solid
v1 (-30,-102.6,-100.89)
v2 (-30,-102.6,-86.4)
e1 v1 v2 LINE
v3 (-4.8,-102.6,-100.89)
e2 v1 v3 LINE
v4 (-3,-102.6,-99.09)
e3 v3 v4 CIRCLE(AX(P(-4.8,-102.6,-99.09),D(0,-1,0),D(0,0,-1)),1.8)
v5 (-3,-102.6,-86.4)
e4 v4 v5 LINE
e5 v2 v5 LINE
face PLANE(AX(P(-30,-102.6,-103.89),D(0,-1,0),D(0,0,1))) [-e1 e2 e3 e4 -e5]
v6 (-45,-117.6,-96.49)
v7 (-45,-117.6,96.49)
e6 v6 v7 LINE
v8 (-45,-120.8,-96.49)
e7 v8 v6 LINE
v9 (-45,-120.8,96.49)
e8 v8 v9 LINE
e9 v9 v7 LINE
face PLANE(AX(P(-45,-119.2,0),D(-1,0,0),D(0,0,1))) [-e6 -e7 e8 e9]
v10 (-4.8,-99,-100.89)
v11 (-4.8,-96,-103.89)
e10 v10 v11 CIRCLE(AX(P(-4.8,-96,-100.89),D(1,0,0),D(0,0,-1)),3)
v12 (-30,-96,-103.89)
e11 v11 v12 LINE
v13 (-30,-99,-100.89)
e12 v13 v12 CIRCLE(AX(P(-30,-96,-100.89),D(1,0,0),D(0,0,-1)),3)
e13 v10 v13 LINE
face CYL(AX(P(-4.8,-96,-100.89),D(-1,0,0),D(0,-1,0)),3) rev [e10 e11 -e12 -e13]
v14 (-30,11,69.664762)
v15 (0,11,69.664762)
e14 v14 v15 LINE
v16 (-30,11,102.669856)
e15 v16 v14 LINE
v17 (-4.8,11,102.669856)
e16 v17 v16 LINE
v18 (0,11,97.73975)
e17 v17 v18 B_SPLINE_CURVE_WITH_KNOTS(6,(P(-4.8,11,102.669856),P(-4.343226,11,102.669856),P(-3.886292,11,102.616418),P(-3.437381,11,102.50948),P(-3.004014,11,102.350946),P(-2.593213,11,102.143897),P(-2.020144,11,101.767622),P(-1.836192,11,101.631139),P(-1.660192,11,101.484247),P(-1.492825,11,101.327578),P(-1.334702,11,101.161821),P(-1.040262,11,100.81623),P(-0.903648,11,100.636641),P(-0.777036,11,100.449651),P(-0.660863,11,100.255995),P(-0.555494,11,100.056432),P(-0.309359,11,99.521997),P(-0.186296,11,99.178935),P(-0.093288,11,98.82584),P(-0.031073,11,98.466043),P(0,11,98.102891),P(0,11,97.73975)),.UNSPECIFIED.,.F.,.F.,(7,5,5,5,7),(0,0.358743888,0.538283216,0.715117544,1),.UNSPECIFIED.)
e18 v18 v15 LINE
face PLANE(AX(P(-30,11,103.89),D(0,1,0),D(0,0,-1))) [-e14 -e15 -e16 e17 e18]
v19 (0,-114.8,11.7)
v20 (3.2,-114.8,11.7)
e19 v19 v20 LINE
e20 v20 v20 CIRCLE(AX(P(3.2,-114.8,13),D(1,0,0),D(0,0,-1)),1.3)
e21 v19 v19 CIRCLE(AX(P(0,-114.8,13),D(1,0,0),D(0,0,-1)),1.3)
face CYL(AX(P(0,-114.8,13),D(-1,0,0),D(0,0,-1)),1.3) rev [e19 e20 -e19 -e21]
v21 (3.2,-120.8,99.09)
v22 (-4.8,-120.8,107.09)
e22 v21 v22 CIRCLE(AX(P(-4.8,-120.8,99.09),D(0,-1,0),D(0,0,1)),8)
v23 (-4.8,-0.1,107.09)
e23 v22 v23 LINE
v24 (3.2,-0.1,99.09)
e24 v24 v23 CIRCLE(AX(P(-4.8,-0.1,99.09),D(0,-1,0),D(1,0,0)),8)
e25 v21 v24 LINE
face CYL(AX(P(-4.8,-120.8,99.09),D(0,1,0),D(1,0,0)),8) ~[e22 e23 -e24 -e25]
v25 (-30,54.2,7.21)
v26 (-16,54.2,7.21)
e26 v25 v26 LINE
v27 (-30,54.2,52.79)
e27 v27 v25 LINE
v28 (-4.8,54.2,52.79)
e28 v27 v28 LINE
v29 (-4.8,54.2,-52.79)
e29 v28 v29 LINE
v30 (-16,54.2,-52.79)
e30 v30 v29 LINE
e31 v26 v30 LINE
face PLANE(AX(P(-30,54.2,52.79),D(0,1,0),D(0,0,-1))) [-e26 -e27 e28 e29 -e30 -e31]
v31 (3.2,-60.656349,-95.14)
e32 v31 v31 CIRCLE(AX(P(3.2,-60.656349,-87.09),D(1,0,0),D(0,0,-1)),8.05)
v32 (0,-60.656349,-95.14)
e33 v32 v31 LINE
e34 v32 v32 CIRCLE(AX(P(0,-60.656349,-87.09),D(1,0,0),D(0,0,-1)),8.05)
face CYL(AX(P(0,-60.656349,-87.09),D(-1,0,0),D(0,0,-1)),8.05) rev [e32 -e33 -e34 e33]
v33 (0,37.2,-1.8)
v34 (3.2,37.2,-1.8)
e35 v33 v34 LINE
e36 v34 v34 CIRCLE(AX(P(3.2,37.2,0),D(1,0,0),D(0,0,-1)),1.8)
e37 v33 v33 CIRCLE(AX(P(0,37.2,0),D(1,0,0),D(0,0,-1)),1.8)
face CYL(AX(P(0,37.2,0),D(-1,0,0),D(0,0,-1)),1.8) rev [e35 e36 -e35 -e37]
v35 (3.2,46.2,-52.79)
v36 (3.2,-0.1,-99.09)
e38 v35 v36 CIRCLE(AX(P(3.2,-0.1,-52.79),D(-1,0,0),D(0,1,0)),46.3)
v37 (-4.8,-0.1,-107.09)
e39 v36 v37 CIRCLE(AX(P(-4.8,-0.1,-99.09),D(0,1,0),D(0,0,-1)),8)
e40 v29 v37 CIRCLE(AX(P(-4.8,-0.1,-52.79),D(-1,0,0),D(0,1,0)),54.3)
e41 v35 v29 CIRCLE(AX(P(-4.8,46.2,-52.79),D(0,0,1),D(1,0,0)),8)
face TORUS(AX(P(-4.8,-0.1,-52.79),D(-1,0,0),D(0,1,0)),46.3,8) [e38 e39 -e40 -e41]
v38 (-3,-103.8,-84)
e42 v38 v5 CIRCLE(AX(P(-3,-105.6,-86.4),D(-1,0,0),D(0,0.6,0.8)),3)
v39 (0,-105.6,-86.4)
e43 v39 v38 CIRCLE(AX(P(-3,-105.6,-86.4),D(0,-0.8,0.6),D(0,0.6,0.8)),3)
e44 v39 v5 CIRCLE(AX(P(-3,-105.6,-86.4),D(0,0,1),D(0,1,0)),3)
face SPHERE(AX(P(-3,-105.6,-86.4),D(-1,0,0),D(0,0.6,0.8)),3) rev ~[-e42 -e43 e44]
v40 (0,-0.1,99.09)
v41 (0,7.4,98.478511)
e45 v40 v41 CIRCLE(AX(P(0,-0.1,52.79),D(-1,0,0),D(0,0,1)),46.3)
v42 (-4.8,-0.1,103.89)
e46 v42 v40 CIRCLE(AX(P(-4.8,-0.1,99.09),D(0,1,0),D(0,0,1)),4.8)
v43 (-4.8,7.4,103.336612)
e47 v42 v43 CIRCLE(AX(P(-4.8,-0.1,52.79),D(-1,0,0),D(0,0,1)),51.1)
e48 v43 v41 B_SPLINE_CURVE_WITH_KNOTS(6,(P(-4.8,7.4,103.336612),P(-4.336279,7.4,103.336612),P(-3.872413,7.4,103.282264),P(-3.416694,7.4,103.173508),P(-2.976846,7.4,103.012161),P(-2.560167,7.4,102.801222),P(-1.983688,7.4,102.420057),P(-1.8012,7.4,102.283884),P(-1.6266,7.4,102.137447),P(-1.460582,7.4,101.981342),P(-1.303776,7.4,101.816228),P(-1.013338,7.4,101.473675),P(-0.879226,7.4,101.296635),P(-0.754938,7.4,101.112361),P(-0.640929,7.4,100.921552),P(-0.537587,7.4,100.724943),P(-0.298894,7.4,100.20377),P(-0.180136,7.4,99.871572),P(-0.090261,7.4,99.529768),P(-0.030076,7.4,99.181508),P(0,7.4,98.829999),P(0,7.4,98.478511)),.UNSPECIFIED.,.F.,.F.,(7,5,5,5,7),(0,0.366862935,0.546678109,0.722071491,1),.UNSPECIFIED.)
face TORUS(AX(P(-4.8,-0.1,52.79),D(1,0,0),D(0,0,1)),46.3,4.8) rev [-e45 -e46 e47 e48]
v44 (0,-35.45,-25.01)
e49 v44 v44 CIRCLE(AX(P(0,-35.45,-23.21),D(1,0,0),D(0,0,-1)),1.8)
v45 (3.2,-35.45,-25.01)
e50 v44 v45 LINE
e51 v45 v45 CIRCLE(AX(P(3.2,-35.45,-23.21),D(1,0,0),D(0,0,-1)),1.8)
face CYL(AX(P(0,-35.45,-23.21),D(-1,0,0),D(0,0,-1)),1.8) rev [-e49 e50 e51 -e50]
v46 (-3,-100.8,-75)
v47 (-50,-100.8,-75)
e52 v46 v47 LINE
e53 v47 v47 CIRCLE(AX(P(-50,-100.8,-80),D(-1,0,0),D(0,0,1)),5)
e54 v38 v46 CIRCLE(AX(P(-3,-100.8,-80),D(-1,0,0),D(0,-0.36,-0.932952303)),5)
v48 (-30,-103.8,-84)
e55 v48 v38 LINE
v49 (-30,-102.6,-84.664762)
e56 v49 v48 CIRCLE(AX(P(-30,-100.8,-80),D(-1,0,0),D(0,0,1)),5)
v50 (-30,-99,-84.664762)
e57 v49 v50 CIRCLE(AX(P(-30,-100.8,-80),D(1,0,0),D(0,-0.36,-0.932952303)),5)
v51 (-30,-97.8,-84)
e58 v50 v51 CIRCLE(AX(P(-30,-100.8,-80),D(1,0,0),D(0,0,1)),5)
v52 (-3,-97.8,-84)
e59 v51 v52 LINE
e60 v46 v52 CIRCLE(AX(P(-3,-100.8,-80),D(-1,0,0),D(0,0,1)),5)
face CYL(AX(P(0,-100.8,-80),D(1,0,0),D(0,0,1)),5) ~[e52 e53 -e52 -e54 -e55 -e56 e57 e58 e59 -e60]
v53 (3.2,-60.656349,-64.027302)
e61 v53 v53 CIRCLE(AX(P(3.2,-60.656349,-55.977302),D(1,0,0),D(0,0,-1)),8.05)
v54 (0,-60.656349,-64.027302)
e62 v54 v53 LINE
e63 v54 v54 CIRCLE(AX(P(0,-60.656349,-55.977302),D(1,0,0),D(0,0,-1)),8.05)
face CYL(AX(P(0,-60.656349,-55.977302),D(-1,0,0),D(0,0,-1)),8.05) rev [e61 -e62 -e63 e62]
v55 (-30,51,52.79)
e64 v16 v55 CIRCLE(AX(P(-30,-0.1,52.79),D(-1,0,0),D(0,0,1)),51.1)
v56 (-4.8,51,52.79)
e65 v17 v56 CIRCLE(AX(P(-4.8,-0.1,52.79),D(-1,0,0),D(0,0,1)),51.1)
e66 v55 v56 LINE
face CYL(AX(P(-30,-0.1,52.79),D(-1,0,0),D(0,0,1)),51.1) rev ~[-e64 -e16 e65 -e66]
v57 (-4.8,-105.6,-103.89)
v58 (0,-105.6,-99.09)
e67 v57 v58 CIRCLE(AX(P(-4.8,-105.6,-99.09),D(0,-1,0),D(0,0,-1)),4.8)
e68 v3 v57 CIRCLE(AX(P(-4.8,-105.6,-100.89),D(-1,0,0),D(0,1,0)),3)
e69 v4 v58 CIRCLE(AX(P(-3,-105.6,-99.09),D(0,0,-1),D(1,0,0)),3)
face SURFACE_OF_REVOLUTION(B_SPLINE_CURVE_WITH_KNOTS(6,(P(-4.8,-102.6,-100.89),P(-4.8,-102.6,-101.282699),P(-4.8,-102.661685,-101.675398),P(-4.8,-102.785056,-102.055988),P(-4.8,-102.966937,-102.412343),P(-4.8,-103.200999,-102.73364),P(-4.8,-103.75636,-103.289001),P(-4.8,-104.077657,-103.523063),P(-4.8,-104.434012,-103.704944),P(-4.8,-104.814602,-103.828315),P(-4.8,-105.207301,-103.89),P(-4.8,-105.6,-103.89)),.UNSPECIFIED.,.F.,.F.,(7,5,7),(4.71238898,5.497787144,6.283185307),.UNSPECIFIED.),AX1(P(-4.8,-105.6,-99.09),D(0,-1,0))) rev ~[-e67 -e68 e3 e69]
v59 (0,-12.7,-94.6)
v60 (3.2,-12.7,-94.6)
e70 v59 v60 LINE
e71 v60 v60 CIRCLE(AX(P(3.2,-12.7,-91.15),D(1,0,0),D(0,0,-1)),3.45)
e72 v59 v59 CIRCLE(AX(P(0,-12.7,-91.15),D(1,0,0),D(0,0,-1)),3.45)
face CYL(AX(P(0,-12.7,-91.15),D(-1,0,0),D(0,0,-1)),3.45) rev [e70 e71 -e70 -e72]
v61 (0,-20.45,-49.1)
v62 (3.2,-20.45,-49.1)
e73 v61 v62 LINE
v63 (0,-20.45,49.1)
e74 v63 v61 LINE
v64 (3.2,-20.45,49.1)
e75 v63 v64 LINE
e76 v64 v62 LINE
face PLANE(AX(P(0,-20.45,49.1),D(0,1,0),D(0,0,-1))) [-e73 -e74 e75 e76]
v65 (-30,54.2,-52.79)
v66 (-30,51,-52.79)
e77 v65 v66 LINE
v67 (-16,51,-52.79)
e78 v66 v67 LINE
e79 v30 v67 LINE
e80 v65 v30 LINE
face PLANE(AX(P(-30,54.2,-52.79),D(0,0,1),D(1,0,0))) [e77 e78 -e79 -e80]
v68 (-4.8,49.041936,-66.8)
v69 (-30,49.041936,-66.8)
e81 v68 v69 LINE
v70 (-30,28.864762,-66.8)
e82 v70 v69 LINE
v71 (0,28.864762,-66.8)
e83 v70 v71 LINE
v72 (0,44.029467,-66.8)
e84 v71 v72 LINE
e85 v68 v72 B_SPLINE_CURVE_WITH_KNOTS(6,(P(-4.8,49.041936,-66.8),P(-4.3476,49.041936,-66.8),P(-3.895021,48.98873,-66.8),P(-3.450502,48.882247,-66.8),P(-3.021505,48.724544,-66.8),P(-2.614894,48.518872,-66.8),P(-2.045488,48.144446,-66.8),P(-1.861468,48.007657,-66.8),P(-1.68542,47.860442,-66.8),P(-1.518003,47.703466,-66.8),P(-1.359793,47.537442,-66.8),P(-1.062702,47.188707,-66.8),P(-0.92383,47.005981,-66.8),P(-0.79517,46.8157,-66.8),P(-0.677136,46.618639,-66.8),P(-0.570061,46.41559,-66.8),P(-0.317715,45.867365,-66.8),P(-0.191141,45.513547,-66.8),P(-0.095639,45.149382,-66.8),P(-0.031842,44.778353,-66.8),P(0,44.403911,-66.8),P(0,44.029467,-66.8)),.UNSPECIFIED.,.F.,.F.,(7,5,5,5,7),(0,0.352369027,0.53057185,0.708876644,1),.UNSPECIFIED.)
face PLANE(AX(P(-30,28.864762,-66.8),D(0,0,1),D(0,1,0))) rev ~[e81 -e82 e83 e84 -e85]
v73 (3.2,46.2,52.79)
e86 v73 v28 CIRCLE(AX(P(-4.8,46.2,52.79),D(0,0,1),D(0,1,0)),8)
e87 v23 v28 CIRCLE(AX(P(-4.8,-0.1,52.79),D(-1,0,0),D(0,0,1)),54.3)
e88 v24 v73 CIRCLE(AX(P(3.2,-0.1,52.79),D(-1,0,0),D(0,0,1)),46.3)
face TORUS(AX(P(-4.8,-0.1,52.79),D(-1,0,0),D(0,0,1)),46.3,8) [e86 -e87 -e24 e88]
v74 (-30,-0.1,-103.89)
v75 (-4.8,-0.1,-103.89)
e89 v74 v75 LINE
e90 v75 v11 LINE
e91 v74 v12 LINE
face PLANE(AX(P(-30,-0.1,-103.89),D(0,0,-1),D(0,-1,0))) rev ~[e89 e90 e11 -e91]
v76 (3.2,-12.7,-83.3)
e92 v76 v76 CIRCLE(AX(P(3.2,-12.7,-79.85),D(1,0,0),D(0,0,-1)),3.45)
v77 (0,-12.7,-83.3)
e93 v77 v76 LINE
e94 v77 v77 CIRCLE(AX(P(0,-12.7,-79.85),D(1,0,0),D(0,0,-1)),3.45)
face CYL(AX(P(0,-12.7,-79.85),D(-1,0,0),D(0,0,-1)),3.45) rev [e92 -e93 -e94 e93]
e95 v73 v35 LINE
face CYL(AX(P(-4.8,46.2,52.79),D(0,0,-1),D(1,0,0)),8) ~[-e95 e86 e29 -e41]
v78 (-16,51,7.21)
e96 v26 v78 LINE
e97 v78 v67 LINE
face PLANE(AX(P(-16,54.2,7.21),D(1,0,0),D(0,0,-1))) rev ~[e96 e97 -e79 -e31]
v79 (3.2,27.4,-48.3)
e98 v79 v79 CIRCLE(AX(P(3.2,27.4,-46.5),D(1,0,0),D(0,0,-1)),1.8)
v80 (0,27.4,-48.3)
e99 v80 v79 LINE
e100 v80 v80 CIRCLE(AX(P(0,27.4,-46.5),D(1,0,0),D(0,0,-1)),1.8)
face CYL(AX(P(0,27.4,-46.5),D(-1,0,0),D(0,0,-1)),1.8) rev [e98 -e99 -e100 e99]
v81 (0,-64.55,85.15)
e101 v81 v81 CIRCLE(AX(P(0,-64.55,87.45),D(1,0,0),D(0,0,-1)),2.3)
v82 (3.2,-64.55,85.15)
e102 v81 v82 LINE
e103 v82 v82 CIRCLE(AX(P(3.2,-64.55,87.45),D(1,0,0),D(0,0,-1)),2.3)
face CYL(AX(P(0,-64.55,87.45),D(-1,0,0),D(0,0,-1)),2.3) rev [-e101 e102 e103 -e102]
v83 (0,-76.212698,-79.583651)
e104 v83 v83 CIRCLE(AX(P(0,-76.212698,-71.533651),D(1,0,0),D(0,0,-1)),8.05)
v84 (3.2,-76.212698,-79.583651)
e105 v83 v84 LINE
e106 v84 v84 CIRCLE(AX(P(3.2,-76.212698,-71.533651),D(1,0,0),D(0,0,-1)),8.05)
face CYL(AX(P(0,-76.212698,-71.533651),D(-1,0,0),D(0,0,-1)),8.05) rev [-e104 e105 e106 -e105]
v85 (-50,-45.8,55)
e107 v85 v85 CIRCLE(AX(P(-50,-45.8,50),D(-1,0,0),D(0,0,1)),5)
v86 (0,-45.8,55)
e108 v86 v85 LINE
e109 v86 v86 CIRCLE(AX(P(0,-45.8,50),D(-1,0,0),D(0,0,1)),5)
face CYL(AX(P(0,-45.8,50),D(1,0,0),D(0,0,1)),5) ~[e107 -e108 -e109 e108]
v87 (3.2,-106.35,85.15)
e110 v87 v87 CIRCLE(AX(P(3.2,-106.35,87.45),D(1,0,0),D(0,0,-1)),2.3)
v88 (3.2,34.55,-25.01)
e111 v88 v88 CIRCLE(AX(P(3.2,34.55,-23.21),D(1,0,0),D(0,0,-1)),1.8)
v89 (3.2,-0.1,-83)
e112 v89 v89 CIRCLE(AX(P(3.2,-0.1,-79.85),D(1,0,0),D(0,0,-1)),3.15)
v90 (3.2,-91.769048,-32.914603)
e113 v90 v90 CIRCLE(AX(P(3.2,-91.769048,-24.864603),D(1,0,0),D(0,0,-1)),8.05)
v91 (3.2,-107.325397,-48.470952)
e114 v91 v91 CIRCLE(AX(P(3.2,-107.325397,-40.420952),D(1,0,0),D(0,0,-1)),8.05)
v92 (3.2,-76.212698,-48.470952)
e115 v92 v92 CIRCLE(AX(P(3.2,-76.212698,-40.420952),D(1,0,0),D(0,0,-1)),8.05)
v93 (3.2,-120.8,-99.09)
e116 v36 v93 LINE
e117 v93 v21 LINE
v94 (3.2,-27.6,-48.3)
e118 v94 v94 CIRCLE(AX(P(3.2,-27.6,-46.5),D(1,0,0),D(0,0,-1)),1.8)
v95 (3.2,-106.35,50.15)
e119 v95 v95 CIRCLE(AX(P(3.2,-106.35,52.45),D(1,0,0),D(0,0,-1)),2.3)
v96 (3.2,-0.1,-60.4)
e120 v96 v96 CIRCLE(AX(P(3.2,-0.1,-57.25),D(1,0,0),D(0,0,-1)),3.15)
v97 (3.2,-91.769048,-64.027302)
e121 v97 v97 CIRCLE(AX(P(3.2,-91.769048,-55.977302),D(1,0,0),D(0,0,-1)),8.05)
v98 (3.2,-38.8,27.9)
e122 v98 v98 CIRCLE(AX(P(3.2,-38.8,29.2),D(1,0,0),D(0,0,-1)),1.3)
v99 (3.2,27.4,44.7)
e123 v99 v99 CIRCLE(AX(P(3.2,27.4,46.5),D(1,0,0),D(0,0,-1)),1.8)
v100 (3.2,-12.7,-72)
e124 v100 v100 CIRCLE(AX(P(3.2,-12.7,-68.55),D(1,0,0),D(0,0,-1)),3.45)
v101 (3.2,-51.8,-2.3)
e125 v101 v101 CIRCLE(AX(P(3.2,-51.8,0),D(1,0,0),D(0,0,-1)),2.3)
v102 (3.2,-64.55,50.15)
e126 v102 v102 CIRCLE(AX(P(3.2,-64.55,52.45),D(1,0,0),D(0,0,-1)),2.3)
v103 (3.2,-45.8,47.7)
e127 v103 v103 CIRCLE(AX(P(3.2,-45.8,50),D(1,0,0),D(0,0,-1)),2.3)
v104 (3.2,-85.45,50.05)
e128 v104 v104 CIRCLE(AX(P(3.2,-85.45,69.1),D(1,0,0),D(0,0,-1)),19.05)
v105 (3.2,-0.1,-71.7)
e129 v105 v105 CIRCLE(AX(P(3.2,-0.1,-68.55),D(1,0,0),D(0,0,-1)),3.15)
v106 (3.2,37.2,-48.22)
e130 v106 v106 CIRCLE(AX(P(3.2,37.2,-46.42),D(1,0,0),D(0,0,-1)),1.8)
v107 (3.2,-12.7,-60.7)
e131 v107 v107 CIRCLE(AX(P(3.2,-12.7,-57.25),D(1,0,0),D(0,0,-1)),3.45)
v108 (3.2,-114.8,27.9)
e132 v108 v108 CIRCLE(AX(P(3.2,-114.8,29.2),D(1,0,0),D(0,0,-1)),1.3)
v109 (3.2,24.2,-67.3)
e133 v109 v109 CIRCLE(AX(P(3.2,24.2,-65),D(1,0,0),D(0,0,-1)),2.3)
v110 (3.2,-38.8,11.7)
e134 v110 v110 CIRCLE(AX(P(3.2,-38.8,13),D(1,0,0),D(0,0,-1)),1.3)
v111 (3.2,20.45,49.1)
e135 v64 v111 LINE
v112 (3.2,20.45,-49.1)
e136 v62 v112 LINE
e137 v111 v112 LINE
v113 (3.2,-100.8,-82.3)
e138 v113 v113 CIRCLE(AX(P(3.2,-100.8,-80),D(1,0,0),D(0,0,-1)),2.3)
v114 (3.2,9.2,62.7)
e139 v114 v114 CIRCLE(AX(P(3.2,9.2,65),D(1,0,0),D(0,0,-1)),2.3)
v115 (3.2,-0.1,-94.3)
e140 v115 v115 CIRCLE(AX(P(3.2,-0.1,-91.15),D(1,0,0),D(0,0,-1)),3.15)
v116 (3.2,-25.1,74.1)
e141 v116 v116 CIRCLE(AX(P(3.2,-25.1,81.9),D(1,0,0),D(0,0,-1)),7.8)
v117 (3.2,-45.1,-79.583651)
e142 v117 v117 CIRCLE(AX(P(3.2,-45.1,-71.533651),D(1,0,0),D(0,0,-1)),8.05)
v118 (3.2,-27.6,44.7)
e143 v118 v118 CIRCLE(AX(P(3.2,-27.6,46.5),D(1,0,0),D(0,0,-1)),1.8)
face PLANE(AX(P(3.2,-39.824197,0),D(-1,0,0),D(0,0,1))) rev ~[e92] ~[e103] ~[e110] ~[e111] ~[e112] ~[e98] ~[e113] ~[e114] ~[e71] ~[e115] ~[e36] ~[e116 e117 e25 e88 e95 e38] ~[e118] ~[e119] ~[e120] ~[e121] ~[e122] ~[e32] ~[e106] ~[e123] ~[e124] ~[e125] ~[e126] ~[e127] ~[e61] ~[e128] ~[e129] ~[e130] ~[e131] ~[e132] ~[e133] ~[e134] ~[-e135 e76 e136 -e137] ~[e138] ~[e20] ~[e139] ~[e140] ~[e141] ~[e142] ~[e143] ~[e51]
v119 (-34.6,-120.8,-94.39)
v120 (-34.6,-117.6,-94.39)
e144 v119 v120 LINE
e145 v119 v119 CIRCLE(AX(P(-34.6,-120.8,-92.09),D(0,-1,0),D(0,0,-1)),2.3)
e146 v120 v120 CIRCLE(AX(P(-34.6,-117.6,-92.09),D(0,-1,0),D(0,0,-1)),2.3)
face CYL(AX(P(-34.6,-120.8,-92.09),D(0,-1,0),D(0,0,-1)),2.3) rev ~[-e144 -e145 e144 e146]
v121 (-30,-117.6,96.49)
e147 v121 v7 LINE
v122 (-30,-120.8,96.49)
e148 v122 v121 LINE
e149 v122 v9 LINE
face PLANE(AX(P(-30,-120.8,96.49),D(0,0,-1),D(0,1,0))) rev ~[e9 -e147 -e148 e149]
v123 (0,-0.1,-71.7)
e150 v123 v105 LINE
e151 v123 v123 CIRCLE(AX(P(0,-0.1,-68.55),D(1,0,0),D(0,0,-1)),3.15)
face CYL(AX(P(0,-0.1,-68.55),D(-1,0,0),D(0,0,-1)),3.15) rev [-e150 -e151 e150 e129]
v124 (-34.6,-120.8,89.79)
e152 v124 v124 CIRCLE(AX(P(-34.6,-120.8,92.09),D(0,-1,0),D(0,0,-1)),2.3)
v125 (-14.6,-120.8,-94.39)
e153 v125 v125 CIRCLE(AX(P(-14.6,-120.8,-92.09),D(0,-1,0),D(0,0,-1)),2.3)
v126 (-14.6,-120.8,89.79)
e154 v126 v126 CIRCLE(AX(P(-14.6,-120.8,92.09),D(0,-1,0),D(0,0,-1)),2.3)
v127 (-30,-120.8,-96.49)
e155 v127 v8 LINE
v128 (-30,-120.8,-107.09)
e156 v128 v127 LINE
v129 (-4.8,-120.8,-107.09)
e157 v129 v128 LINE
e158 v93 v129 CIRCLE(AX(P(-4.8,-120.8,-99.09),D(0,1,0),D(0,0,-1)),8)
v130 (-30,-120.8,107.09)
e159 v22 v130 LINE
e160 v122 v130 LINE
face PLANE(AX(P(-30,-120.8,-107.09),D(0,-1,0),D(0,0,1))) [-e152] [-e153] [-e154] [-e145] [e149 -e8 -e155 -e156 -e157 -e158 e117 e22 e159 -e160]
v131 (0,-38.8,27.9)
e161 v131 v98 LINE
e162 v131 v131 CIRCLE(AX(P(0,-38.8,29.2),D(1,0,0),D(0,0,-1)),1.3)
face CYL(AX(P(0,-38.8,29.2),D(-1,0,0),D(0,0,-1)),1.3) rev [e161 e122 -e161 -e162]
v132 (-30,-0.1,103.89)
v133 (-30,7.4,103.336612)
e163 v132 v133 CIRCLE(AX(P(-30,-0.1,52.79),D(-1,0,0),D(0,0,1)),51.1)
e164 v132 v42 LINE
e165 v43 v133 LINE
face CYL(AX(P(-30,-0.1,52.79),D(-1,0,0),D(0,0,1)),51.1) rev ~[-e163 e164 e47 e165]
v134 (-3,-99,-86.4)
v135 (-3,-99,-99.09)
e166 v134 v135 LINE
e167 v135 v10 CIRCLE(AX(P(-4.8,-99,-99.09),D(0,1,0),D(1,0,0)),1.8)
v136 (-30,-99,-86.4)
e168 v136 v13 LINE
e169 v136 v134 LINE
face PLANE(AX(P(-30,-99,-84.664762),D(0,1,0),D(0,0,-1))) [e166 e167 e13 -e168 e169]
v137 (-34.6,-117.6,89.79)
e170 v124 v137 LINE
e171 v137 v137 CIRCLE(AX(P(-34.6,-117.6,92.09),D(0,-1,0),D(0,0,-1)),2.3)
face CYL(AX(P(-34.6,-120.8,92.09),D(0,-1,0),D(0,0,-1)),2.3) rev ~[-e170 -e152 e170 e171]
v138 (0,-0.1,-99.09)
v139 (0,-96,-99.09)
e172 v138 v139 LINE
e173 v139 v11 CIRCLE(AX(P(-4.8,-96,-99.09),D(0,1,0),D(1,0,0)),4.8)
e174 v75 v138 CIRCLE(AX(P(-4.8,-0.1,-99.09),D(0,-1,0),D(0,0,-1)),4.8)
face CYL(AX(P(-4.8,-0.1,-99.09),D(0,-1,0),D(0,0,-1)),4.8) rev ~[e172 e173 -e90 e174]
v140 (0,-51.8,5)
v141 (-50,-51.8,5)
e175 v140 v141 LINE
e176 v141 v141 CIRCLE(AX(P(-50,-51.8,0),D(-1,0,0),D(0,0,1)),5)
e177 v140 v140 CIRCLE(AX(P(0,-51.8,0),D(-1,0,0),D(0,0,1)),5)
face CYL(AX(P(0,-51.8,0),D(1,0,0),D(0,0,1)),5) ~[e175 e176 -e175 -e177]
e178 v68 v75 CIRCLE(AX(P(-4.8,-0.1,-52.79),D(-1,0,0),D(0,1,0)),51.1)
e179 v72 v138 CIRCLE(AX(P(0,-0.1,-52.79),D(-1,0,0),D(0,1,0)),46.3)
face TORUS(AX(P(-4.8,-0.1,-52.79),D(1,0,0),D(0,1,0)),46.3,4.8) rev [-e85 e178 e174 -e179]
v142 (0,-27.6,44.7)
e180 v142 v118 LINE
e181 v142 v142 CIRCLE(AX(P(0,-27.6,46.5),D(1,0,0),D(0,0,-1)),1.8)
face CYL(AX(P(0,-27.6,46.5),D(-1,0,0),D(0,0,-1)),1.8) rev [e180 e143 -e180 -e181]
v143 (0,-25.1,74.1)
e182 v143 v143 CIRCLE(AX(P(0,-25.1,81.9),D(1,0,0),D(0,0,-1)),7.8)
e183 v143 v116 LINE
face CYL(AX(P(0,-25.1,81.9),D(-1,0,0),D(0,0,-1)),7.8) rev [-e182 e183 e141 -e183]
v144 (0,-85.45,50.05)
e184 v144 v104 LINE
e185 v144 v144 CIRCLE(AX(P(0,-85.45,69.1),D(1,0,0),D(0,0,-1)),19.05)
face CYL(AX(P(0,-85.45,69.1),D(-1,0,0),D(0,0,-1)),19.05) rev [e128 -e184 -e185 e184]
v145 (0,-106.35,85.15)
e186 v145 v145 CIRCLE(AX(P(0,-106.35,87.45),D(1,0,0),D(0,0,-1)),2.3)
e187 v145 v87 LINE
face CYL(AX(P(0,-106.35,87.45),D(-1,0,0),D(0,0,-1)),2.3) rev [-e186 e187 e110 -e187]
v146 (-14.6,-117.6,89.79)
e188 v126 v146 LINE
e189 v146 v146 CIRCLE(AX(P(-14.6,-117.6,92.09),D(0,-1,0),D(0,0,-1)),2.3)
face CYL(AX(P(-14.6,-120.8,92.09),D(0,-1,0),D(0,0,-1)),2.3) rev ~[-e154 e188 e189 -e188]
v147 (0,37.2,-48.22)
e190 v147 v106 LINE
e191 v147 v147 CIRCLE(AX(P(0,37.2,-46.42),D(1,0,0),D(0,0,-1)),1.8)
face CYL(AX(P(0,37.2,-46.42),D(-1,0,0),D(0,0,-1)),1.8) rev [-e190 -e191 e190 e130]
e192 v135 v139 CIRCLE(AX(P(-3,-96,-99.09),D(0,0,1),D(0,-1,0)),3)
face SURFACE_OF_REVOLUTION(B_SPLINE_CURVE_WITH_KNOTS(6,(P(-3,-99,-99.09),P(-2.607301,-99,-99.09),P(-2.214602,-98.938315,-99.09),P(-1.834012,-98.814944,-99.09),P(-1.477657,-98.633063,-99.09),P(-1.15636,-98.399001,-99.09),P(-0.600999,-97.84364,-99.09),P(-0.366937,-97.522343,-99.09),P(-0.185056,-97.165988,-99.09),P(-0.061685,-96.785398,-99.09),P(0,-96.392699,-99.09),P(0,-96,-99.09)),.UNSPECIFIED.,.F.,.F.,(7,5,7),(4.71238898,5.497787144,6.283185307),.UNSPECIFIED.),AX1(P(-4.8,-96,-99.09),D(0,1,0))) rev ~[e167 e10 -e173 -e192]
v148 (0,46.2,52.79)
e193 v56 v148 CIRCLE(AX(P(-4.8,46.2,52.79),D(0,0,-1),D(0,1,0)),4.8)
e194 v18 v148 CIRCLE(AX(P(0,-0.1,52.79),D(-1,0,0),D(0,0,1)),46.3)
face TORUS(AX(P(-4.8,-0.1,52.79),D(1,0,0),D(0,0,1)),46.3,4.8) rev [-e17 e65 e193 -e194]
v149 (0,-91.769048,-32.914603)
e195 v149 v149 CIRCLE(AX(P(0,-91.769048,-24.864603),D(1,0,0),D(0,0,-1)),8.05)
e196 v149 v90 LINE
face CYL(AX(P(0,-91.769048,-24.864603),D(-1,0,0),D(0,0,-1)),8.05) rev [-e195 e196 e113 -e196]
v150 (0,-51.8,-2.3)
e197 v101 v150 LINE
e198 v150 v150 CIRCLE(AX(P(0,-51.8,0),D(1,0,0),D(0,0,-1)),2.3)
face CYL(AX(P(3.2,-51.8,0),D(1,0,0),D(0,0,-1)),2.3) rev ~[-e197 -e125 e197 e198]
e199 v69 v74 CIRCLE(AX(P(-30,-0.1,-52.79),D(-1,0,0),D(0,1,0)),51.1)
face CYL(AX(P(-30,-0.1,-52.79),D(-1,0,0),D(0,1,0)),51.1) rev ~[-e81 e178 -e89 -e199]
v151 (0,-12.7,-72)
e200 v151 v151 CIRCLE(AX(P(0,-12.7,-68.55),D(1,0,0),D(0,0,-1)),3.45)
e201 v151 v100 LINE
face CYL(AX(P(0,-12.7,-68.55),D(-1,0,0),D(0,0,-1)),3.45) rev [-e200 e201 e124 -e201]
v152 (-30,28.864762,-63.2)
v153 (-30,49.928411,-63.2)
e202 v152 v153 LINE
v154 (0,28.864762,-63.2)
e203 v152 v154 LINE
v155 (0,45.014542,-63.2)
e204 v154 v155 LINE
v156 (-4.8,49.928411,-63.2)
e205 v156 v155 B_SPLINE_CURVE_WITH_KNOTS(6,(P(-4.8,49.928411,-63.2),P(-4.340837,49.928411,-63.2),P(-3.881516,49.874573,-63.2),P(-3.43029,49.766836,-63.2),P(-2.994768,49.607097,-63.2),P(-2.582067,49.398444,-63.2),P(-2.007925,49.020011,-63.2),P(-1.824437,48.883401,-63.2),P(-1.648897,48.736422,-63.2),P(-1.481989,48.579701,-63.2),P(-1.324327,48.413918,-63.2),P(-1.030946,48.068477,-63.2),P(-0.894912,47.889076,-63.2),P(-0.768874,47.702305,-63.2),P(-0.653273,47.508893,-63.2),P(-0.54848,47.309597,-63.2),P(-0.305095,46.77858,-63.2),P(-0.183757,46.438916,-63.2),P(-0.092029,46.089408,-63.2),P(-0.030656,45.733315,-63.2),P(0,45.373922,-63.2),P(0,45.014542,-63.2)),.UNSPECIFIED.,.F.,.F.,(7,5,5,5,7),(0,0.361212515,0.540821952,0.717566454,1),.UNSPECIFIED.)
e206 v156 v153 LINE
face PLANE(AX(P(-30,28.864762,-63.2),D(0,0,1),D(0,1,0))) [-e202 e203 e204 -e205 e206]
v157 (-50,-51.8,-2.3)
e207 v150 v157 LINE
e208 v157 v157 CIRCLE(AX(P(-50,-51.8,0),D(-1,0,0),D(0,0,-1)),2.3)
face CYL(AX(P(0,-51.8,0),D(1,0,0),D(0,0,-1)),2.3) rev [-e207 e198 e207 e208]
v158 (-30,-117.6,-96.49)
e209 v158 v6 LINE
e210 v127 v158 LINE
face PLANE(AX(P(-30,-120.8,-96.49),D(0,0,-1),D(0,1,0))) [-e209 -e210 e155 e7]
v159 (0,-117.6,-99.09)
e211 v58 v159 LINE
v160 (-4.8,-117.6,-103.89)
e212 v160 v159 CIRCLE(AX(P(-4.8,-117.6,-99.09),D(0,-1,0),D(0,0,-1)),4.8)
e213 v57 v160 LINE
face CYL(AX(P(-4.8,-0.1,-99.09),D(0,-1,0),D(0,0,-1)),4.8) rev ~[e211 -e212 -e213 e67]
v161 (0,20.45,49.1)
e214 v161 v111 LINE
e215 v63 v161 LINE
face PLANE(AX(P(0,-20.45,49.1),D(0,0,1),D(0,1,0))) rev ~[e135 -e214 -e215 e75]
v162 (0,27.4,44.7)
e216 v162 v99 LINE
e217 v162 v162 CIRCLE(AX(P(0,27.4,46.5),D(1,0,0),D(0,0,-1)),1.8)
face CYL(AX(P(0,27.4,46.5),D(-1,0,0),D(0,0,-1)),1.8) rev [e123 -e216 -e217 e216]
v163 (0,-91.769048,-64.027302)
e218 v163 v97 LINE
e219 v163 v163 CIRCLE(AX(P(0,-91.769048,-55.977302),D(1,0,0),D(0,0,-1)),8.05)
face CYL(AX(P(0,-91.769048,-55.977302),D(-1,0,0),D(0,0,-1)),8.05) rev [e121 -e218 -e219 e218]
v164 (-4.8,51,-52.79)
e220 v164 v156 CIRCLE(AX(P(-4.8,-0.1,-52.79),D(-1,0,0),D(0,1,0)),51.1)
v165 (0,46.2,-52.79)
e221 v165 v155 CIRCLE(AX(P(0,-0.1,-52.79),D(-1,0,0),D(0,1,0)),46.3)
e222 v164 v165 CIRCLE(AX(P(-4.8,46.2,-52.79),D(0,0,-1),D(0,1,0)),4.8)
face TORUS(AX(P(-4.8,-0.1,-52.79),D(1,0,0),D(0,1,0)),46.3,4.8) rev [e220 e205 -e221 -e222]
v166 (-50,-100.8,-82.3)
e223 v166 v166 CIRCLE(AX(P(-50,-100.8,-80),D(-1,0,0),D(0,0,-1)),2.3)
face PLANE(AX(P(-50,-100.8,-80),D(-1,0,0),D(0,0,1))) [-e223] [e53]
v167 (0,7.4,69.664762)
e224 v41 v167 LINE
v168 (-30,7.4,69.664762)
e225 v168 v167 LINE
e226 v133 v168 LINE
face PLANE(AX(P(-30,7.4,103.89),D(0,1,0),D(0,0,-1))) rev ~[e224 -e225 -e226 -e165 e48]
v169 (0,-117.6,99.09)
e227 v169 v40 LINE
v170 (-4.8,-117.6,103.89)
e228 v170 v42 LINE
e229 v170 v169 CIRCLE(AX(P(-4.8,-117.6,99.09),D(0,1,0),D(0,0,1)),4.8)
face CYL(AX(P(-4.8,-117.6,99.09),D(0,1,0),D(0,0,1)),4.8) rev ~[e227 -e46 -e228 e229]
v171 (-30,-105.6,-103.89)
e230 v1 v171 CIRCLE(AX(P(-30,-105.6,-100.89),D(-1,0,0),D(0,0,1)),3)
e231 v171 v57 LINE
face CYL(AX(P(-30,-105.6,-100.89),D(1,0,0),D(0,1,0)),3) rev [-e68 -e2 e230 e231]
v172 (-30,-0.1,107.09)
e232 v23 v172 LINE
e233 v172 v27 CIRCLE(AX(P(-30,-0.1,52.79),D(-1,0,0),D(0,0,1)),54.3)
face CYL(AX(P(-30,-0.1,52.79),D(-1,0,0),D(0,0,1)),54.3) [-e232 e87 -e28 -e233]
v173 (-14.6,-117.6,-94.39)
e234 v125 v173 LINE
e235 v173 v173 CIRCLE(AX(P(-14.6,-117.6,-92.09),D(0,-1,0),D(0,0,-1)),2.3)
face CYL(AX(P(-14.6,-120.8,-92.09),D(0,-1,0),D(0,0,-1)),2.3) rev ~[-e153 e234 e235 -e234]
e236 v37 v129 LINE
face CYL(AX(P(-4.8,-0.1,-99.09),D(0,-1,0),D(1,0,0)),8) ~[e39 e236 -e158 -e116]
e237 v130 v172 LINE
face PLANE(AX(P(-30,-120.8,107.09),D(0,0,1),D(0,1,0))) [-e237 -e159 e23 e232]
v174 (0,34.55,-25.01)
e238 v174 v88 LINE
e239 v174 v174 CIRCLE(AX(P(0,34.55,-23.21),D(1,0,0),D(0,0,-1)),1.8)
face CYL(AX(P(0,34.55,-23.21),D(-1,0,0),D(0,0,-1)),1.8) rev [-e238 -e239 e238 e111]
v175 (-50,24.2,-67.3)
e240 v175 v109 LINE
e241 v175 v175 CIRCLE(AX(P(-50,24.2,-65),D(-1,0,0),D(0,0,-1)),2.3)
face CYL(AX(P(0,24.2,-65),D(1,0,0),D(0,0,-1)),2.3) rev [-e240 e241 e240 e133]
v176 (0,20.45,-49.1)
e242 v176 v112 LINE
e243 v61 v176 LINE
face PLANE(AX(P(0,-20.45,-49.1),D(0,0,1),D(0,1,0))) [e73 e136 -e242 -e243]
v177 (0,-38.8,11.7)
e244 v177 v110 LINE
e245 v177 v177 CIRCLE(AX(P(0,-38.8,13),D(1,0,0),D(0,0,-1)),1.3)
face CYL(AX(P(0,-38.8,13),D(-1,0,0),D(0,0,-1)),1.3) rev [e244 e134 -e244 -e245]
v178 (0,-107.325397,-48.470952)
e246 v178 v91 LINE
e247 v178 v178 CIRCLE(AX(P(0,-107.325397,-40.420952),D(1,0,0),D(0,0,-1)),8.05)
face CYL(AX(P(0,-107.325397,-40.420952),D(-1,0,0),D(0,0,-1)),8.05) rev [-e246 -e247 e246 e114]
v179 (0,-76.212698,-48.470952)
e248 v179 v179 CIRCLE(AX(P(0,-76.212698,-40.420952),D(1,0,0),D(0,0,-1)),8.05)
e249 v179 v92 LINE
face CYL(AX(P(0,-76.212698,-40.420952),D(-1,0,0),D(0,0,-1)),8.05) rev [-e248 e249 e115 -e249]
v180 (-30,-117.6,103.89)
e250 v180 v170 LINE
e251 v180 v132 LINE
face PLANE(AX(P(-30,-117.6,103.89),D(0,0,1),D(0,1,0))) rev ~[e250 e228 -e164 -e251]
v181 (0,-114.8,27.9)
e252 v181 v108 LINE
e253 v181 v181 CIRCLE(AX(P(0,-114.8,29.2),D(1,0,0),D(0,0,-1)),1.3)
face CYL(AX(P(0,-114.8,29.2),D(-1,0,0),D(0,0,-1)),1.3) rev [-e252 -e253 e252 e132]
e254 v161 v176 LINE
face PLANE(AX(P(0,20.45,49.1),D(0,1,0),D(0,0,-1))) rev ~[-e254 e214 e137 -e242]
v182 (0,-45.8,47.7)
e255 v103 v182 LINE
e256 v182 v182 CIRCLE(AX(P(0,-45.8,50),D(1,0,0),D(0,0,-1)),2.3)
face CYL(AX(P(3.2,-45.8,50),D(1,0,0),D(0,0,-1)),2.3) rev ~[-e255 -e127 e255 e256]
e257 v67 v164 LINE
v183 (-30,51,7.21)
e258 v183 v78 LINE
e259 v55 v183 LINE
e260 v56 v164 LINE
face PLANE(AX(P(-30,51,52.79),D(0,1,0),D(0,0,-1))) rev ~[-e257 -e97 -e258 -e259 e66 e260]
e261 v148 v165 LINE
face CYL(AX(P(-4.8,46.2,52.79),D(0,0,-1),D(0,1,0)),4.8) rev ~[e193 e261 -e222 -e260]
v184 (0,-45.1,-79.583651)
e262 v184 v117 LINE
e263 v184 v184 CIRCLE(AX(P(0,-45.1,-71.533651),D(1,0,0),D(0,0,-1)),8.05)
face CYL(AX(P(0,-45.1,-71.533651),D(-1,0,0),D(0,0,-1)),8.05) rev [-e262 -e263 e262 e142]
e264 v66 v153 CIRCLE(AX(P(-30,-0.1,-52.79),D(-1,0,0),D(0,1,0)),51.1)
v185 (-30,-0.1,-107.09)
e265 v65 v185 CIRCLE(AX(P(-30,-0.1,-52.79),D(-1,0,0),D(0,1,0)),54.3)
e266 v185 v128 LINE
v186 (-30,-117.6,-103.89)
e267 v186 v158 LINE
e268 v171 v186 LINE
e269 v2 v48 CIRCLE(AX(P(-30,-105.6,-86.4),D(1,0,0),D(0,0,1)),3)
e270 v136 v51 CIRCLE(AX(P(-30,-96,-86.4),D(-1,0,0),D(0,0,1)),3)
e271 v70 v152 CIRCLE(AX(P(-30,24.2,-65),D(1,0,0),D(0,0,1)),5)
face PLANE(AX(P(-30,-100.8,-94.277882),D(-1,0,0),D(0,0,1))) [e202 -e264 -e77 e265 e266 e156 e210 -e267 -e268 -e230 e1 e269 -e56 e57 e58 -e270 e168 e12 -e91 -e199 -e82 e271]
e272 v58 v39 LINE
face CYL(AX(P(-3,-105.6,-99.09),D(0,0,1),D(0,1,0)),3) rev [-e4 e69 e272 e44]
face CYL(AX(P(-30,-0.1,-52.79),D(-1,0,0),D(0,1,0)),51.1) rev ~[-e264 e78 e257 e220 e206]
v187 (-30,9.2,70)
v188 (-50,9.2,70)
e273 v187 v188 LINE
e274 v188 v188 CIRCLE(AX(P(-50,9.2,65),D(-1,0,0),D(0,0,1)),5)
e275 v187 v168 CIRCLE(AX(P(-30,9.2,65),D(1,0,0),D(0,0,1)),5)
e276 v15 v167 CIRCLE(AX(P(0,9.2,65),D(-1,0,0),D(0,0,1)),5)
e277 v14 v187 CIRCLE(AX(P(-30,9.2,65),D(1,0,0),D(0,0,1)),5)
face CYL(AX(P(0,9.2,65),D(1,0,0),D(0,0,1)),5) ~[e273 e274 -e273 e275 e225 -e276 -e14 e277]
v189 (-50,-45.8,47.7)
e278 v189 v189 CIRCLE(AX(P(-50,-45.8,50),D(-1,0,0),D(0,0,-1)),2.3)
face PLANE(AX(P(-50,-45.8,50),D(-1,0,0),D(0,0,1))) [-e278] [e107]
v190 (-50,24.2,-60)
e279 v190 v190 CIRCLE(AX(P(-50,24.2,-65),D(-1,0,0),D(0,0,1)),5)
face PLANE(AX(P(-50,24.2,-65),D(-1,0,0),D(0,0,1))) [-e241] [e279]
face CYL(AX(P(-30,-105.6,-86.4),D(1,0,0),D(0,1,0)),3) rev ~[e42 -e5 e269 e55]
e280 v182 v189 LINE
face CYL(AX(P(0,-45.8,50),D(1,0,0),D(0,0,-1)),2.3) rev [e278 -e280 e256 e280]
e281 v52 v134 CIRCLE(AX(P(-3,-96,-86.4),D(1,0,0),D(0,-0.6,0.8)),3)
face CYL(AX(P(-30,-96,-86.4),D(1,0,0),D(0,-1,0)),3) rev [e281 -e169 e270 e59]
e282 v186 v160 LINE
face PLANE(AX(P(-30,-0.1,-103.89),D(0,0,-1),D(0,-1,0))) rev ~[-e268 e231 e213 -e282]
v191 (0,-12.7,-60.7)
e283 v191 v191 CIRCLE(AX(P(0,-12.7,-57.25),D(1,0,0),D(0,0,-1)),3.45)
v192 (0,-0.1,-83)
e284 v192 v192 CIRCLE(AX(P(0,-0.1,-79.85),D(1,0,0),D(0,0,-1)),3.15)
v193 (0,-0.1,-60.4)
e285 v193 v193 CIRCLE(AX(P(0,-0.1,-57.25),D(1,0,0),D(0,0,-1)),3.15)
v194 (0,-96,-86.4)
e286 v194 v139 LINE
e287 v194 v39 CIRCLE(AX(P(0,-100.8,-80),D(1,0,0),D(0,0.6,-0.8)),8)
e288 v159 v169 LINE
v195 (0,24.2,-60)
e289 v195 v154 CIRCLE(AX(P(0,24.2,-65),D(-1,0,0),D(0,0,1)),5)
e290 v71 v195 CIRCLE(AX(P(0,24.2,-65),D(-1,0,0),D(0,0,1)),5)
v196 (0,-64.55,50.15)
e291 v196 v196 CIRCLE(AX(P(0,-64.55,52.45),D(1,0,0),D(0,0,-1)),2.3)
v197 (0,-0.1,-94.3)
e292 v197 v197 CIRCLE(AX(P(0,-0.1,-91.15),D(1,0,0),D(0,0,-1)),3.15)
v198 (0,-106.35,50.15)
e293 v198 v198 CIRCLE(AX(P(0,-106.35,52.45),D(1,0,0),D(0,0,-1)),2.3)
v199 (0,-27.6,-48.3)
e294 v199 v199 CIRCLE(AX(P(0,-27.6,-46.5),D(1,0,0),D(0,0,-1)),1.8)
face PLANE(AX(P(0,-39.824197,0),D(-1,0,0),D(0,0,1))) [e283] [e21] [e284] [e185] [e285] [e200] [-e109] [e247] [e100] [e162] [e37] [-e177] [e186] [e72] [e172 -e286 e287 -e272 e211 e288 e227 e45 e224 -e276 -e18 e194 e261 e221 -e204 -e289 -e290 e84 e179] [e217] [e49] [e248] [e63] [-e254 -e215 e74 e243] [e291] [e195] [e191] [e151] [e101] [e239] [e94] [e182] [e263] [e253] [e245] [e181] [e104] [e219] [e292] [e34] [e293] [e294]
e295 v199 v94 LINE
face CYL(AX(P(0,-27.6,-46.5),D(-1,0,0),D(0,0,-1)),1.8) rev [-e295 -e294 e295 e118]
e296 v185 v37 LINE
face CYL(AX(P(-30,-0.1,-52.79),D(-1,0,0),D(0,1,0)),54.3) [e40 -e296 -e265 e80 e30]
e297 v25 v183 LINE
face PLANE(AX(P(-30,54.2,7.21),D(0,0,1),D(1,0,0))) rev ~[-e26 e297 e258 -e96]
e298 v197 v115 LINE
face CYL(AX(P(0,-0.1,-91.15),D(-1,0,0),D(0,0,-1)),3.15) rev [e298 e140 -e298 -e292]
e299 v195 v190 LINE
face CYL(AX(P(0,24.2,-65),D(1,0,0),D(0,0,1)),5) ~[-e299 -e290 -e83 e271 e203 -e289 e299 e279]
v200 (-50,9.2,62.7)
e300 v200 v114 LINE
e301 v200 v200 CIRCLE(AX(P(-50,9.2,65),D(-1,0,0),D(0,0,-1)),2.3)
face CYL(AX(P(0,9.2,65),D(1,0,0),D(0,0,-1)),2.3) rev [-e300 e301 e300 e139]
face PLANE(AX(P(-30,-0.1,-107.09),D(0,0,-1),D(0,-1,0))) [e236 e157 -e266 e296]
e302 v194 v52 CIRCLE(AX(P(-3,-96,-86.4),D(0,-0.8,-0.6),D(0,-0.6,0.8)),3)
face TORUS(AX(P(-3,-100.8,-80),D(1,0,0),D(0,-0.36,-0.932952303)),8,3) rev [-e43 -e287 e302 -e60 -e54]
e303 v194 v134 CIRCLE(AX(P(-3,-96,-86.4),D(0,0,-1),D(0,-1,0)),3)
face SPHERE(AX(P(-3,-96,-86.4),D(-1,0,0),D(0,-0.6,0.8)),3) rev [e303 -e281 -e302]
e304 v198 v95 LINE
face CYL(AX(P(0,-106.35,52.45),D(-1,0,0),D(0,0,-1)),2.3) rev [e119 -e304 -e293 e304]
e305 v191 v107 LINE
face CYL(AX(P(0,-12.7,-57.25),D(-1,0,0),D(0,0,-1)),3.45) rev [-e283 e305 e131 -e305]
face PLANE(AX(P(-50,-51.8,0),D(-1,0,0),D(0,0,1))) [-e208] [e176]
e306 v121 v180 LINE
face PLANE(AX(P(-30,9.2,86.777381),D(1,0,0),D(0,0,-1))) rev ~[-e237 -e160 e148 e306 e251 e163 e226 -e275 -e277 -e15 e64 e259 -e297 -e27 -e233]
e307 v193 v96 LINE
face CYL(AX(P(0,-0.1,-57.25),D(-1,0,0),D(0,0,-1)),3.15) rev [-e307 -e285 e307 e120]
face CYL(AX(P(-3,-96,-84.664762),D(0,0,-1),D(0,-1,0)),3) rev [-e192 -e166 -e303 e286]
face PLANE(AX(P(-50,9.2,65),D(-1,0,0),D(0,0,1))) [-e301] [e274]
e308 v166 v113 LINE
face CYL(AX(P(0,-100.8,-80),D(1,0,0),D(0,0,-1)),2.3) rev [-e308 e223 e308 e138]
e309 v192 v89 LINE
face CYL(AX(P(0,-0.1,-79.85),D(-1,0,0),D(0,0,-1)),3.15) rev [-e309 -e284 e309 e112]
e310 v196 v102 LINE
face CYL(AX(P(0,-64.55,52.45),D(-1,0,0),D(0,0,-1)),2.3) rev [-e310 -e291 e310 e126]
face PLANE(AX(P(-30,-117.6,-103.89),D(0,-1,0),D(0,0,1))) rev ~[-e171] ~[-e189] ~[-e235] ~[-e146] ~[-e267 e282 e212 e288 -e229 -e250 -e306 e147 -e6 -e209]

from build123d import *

# Parameters (mm, degrees)
SKETCH1_R           = 1.8
SKETCH1_R_2         = 3.15
SKETCH1_R_3         = 8.05
SKETCH1_R_4         = 2.3
SKETCH1_R_5         = 19.05
SKETCH1_R_6         = 7.8
SKETCH1_R_7         = 1.3
SKETCH1_R_8         = 3.45
SKETCH1_W           = 98.2
SKETCH1_H           = 40.9
BOSS_EXTRUDE1_DEPTH = 3.2
BOSS_EXTRUDE2_START = 30
BOSS_EXTRUDE2_DEPTH = 30
FILLET1_R           = 4.8
SKETCH20_R          = 2.3
CUT_EXTRUDE8_DEPTH  = 10
SKETCH6_R           = 5
SKETCH6_R_2         = 2.3
BOSS_EXTRUDE3_DEPTH = 50
SKETCH12_W          = 192.98
SKETCH12_H          = 3.2
BOSS_EXTRUDE7_DEPTH = 15
SKETCH8_R           = 2.3
CUT_EXTRUDE2_DEPTH  = 10
SKETCH19_W          = 14
SKETCH19_H          = 60
CUT_EXTRUDE7_DEPTH  = 10
BOSS_EXTRUDE8_START = -30
SKETCH21_W          = 3.6
SKETCH21_H          = 22.135238484
SKETCH21_W_2        = 34.225238484
SKETCH21_H_2        = 3.6
BOSS_EXTRUDE8_DEPTH = 30
FILLET5_R           = 3
FILLET6_R           = 8


with BuildPart() as part:
    # Sketch1 → Boss-Extrude1 (new body)
    with BuildSketch(Plane(origin=(0, 0, 0), x_dir=(0, 0, -1), z_dir=(1, 0, 0))):
        with BuildLine():
            Line((-52.79, 54.2), (52.79, 54.2))
            ThreePointArc((52.79, 54.2), (91.185898218, 38.295898218), (107.09, -0.1))
            Line((107.09, -0.1), (107.09, -120.8))
            Line((107.09, -120.8), (-107.09, -120.8))
            Line((-107.09, -120.8), (-107.09, -0.1))
            ThreePointArc((-107.09, -0.1), (-91.185898218, 38.295898218), (-52.79, 54.2))
        make_face()
        with Locations((46.5, 27.4)):
            Circle(SKETCH1_R, mode=Mode.SUBTRACT)
        with Locations((-46.5, -27.6)):
            Circle(SKETCH1_R, mode=Mode.SUBTRACT)
        with Locations((-46.5, 27.4)):
            Circle(SKETCH1_R, mode=Mode.SUBTRACT)
        with Locations((46.5, -27.6)):
            Circle(SKETCH1_R, mode=Mode.SUBTRACT)
        with Locations((57.25, -0.1)):
            Circle(SKETCH1_R_2, mode=Mode.SUBTRACT)
        with Locations((68.55, -0.1)):
            Circle(SKETCH1_R_2, mode=Mode.SUBTRACT)
        with Locations((79.85, -0.1)):
            Circle(SKETCH1_R_2, mode=Mode.SUBTRACT)
        with Locations((91.15, -0.1)):
            Circle(SKETCH1_R_2, mode=Mode.SUBTRACT)
        with Locations((71.533650814, -45.1)):
            Circle(SKETCH1_R_3, mode=Mode.SUBTRACT)
        with Locations((87.09, -60.656349186)):
            Circle(SKETCH1_R_3, mode=Mode.SUBTRACT)
        with Locations((71.533650814, -76.212698372)):
            Circle(SKETCH1_R_3, mode=Mode.SUBTRACT)
        with Locations((55.977301628, -91.769047558)):
            Circle(SKETCH1_R_3, mode=Mode.SUBTRACT)
        with Locations((40.420952442, -107.325396744)):
            Circle(SKETCH1_R_3, mode=Mode.SUBTRACT)
        with Locations((55.977301628, -60.656349186)):
            Circle(SKETCH1_R_3, mode=Mode.SUBTRACT)
        with Locations((40.420952442, -76.212698372)):
            Circle(SKETCH1_R_3, mode=Mode.SUBTRACT)
        with Locations((24.864603256, -91.769047558)):
            Circle(SKETCH1_R_3, mode=Mode.SUBTRACT)
        with Locations((-87.45, -106.35)):
            Circle(SKETCH1_R_4, mode=Mode.SUBTRACT)
        with Locations((-52.45, -106.35)):
            Circle(SKETCH1_R_4, mode=Mode.SUBTRACT)
        with Locations((-52.45, -64.55)):
            Circle(SKETCH1_R_4, mode=Mode.SUBTRACT)
        with Locations((-87.45, -64.55)):
            Circle(SKETCH1_R_4, mode=Mode.SUBTRACT)
        with Locations((-69.1, -85.45)):
            Circle(SKETCH1_R_5, mode=Mode.SUBTRACT)
        with Locations((-81.9, -25.1)):
            Circle(SKETCH1_R_6, mode=Mode.SUBTRACT)
        with Locations((46.42, 37.2)):
            Circle(SKETCH1_R, mode=Mode.SUBTRACT)
        with Locations((0, 37.2)):
            Circle(SKETCH1_R, mode=Mode.SUBTRACT)
        with Locations((23.21, 34.55)):
            Circle(SKETCH1_R, mode=Mode.SUBTRACT)
        with Locations((23.21, -35.45)):
            Circle(SKETCH1_R, mode=Mode.SUBTRACT)
        with Locations((-29.2, -38.8)):
            Circle(SKETCH1_R_7, mode=Mode.SUBTRACT)
        with Locations((-13, -38.8)):
            Circle(SKETCH1_R_7, mode=Mode.SUBTRACT)
        with Locations((-13, -114.8)):
            Circle(SKETCH1_R_7, mode=Mode.SUBTRACT)
        with Locations((-29.2, -114.8)):
            Circle(SKETCH1_R_7, mode=Mode.SUBTRACT)
        with Locations((91.15, -12.7)):
            Circle(SKETCH1_R_8, mode=Mode.SUBTRACT)
        with Locations((79.85, -12.7)):
            Circle(SKETCH1_R_8, mode=Mode.SUBTRACT)
        with Locations((68.55, -12.7)):
            Circle(SKETCH1_R_8, mode=Mode.SUBTRACT)
        with Locations((57.25, -12.7)):
            Circle(SKETCH1_R_8, mode=Mode.SUBTRACT)
        Rectangle(SKETCH1_W, SKETCH1_H, mode=Mode.SUBTRACT)
    extrude(amount=BOSS_EXTRUDE1_DEPTH)

    # Sketch3 → Boss-Extrude2 (add)
    with BuildSketch(Plane.ZY.offset(BOSS_EXTRUDE2_START)):
        with BuildLine():
            Line((-107.09, -0.1), (-107.09, -120.8))
            Line((-107.09, -120.8), (107.09, -120.8))
            Line((107.09, -120.8), (107.09, -0.1))
            ThreePointArc((107.09, -0.1), (91.185898218, 38.295898218), (52.79, 54.2))
            Line((52.79, 54.2), (-52.79, 54.2))
            ThreePointArc((-52.79, 54.2), (-91.185898218, 38.295898218), (-107.09, -0.1))
        make_face()
        with BuildLine():
            Line((-103.89, -0.1), (-103.89, -117.6))
            Line((-103.89, -117.6), (103.89, -117.6))
            Line((103.89, -117.6), (103.89, -0.1))
            ThreePointArc((103.89, -0.1), (88.923156519, 36.033156519), (52.79, 51))
            Line((52.79, 51), (-52.79, 51))
            ThreePointArc((-52.79, 51), (-88.923156519, 36.033156519), (-103.89, -0.1))
        make_face(mode=Mode.SUBTRACT)
    extrude(amount=-BOSS_EXTRUDE2_DEPTH)

    # Fillet1
    fillet1_edges = [part.edges().sort_by_distance(p)[0] for p in [
        (0, 36.033156519, -88.923156519),
        (0, -58.85, -103.89),
        (0, -58.85, 103.89),
        (0, 36.033156519, 88.923156519),
        (0, 51, 0),
    ]]
    fillet(fillet1_edges, radius=FILLET1_R)

    # Sketch20 → Cut-Extrude8 (cut)
    with BuildSketch(Plane(origin=(3.2, 0, 0), x_dir=(0, 0, -1), z_dir=(1, 0, 0))):
        with Locations((-65, 9.2)):
            Circle(SKETCH20_R)
        with Locations((0, -51.8)):
            Circle(SKETCH20_R)
        with Locations((-50, -45.8)):
            Circle(SKETCH20_R)
        with Locations((65, 24.2)):
            Circle(SKETCH20_R)
        with Locations((80, -100.8)):
            Circle(SKETCH20_R)
    extrude(amount=-CUT_EXTRUDE8_DEPTH, mode=Mode.SUBTRACT)

    # Sketch6 → Boss-Extrude3 (add)
    # profile 1 of 5: a face of its own
    with BuildSketch(Plane.ZY):
        with Locations((65, 9.2)):
            Circle(SKETCH6_R)
        with Locations(Location((65, 9.2, 0), (0, 0, 180))):
            Circle(SKETCH6_R_2, mode=Mode.SUBTRACT)
    # profile 2 of 5: a face of its own
    with BuildSketch(Plane.ZY):
        with Locations((-65, 24.2)):
            Circle(SKETCH6_R)
        with Locations(Location((-65, 24.2, 0), (0, 0, 180))):
            Circle(SKETCH6_R_2, mode=Mode.SUBTRACT)
    # profile 3 of 5: a face of its own
    with BuildSketch(Plane.ZY):
        with Locations((-80, -100.8)):
            Circle(SKETCH6_R)
        with Locations(Location((-80, -100.8, 0), (0, 0, 180))):
            Circle(SKETCH6_R_2, mode=Mode.SUBTRACT)
    # profile 4 of 5: a face of its own
    with BuildSketch(Plane.ZY):
        with Locations((50, -45.8)):
            Circle(SKETCH6_R)
        with Locations(Location((50, -45.8, 0), (0, 0, 180))):
            Circle(SKETCH6_R_2, mode=Mode.SUBTRACT)
    # profile 5 of 5: a face of its own
    with BuildSketch(Plane.ZY):
        with Locations((0, -51.8)):
            Circle(SKETCH6_R)
        with Locations(Location((0, -51.8, 0), (0, 0, 180))):
            Circle(SKETCH6_R_2, mode=Mode.SUBTRACT)
    extrude(amount=BOSS_EXTRUDE3_DEPTH)

    # Sketch12 → Boss-Extrude7 (add)
    with BuildSketch(Plane.ZY.offset(30)):
        with Locations((0, -119.2)):
            Rectangle(SKETCH12_W, SKETCH12_H)
    extrude(amount=BOSS_EXTRUDE7_DEPTH)

    # Sketch8 → Cut-Extrude2 (cut)
    with BuildSketch(Plane.XZ.offset(120.8)):
        with Locations(Location((-14.6, 92.09, 0), (0, 0, 270))):
            Circle(SKETCH8_R)
        with Locations(Location((-34.6, 92.09, 0), (0, 0, 270))):
            Circle(SKETCH8_R)
        with Locations(Location((-14.6, -92.09, 0), (0, 0, 270))):
            Circle(SKETCH8_R)
        with Locations(Location((-34.6, -92.09, 0), (0, 0, 270))):
            Circle(SKETCH8_R)
    extrude(amount=-CUT_EXTRUDE2_DEPTH, mode=Mode.SUBTRACT)

    # Sketch19 → Cut-Extrude7 (cut)
    with BuildSketch(Plane(origin=(0, 54.2, 0), x_dir=(1, 0, 0), z_dir=(0, 1, 0))):
        with Locations((-23, 22.79)):
            Rectangle(SKETCH19_W, SKETCH19_H)
    extrude(amount=-CUT_EXTRUDE7_DEPTH, mode=Mode.SUBTRACT)

    # Sketch21 → Boss-Extrude8 (add)
    with BuildSketch(Plane(origin=(0, 0, 0), x_dir=(0, 0, -1), z_dir=(1, 0, 0)).offset(BOSS_EXTRUDE8_START)):
        with BuildLine():
            Line((103.89, -102.6), (85, -102.6))
            Line((85, -102.6), (84.664761516, -102.6))
            ThreePointArc((84.664761516, -102.6), (85, -100.8), (84.664761516, -99))
            Line((84.664761516, -99), (85, -99))
            Line((85, -99), (103.89, -99))
            Line((103.89, -99), (103.89, -102.6))
        make_face()
        with Locations((65, 39.932380758)):
            Rectangle(SKETCH21_W, SKETCH21_H)
        with Locations((-86.777380758, 9.2)):
            Rectangle(SKETCH21_W_2, SKETCH21_H_2)
    extrude(amount=BOSS_EXTRUDE8_DEPTH)

    # Fillet5
    fillet5_edges = [part.edges().sort_by_distance(p)[0] for p in [
        (0, -105.715475947, -79.084524053),
        (0, -99, -91.877380758),
        (0, -102.6, -91.877380758),
        (-17.4, -102.6, -103.89),
        (-15, -99, -84.664761516),
        (-1.40588745, -102.6, -102.48411255),
        (-17.4, -99, -103.89),
        (-1.40588745, -99, -102.48411255),
        (-15, -102.6, -84.664761516),
    ]]
    fillet(fillet5_edges, radius=FILLET5_R)

    # Fillet6
    fillet6_edges = [part.edges().sort_by_distance(p)[0] for p in [
        (3.2, 38.295898218, 91.185898218),
        (3.2, -60.45, 107.09),
        (3.2, -60.45, -107.09),
        (3.2, 38.295898218, -91.185898218),
        (3.2, 54.2, 0),
    ]]
    fillet(fillet6_edges, radius=FILLET6_R)


solid = part.part
